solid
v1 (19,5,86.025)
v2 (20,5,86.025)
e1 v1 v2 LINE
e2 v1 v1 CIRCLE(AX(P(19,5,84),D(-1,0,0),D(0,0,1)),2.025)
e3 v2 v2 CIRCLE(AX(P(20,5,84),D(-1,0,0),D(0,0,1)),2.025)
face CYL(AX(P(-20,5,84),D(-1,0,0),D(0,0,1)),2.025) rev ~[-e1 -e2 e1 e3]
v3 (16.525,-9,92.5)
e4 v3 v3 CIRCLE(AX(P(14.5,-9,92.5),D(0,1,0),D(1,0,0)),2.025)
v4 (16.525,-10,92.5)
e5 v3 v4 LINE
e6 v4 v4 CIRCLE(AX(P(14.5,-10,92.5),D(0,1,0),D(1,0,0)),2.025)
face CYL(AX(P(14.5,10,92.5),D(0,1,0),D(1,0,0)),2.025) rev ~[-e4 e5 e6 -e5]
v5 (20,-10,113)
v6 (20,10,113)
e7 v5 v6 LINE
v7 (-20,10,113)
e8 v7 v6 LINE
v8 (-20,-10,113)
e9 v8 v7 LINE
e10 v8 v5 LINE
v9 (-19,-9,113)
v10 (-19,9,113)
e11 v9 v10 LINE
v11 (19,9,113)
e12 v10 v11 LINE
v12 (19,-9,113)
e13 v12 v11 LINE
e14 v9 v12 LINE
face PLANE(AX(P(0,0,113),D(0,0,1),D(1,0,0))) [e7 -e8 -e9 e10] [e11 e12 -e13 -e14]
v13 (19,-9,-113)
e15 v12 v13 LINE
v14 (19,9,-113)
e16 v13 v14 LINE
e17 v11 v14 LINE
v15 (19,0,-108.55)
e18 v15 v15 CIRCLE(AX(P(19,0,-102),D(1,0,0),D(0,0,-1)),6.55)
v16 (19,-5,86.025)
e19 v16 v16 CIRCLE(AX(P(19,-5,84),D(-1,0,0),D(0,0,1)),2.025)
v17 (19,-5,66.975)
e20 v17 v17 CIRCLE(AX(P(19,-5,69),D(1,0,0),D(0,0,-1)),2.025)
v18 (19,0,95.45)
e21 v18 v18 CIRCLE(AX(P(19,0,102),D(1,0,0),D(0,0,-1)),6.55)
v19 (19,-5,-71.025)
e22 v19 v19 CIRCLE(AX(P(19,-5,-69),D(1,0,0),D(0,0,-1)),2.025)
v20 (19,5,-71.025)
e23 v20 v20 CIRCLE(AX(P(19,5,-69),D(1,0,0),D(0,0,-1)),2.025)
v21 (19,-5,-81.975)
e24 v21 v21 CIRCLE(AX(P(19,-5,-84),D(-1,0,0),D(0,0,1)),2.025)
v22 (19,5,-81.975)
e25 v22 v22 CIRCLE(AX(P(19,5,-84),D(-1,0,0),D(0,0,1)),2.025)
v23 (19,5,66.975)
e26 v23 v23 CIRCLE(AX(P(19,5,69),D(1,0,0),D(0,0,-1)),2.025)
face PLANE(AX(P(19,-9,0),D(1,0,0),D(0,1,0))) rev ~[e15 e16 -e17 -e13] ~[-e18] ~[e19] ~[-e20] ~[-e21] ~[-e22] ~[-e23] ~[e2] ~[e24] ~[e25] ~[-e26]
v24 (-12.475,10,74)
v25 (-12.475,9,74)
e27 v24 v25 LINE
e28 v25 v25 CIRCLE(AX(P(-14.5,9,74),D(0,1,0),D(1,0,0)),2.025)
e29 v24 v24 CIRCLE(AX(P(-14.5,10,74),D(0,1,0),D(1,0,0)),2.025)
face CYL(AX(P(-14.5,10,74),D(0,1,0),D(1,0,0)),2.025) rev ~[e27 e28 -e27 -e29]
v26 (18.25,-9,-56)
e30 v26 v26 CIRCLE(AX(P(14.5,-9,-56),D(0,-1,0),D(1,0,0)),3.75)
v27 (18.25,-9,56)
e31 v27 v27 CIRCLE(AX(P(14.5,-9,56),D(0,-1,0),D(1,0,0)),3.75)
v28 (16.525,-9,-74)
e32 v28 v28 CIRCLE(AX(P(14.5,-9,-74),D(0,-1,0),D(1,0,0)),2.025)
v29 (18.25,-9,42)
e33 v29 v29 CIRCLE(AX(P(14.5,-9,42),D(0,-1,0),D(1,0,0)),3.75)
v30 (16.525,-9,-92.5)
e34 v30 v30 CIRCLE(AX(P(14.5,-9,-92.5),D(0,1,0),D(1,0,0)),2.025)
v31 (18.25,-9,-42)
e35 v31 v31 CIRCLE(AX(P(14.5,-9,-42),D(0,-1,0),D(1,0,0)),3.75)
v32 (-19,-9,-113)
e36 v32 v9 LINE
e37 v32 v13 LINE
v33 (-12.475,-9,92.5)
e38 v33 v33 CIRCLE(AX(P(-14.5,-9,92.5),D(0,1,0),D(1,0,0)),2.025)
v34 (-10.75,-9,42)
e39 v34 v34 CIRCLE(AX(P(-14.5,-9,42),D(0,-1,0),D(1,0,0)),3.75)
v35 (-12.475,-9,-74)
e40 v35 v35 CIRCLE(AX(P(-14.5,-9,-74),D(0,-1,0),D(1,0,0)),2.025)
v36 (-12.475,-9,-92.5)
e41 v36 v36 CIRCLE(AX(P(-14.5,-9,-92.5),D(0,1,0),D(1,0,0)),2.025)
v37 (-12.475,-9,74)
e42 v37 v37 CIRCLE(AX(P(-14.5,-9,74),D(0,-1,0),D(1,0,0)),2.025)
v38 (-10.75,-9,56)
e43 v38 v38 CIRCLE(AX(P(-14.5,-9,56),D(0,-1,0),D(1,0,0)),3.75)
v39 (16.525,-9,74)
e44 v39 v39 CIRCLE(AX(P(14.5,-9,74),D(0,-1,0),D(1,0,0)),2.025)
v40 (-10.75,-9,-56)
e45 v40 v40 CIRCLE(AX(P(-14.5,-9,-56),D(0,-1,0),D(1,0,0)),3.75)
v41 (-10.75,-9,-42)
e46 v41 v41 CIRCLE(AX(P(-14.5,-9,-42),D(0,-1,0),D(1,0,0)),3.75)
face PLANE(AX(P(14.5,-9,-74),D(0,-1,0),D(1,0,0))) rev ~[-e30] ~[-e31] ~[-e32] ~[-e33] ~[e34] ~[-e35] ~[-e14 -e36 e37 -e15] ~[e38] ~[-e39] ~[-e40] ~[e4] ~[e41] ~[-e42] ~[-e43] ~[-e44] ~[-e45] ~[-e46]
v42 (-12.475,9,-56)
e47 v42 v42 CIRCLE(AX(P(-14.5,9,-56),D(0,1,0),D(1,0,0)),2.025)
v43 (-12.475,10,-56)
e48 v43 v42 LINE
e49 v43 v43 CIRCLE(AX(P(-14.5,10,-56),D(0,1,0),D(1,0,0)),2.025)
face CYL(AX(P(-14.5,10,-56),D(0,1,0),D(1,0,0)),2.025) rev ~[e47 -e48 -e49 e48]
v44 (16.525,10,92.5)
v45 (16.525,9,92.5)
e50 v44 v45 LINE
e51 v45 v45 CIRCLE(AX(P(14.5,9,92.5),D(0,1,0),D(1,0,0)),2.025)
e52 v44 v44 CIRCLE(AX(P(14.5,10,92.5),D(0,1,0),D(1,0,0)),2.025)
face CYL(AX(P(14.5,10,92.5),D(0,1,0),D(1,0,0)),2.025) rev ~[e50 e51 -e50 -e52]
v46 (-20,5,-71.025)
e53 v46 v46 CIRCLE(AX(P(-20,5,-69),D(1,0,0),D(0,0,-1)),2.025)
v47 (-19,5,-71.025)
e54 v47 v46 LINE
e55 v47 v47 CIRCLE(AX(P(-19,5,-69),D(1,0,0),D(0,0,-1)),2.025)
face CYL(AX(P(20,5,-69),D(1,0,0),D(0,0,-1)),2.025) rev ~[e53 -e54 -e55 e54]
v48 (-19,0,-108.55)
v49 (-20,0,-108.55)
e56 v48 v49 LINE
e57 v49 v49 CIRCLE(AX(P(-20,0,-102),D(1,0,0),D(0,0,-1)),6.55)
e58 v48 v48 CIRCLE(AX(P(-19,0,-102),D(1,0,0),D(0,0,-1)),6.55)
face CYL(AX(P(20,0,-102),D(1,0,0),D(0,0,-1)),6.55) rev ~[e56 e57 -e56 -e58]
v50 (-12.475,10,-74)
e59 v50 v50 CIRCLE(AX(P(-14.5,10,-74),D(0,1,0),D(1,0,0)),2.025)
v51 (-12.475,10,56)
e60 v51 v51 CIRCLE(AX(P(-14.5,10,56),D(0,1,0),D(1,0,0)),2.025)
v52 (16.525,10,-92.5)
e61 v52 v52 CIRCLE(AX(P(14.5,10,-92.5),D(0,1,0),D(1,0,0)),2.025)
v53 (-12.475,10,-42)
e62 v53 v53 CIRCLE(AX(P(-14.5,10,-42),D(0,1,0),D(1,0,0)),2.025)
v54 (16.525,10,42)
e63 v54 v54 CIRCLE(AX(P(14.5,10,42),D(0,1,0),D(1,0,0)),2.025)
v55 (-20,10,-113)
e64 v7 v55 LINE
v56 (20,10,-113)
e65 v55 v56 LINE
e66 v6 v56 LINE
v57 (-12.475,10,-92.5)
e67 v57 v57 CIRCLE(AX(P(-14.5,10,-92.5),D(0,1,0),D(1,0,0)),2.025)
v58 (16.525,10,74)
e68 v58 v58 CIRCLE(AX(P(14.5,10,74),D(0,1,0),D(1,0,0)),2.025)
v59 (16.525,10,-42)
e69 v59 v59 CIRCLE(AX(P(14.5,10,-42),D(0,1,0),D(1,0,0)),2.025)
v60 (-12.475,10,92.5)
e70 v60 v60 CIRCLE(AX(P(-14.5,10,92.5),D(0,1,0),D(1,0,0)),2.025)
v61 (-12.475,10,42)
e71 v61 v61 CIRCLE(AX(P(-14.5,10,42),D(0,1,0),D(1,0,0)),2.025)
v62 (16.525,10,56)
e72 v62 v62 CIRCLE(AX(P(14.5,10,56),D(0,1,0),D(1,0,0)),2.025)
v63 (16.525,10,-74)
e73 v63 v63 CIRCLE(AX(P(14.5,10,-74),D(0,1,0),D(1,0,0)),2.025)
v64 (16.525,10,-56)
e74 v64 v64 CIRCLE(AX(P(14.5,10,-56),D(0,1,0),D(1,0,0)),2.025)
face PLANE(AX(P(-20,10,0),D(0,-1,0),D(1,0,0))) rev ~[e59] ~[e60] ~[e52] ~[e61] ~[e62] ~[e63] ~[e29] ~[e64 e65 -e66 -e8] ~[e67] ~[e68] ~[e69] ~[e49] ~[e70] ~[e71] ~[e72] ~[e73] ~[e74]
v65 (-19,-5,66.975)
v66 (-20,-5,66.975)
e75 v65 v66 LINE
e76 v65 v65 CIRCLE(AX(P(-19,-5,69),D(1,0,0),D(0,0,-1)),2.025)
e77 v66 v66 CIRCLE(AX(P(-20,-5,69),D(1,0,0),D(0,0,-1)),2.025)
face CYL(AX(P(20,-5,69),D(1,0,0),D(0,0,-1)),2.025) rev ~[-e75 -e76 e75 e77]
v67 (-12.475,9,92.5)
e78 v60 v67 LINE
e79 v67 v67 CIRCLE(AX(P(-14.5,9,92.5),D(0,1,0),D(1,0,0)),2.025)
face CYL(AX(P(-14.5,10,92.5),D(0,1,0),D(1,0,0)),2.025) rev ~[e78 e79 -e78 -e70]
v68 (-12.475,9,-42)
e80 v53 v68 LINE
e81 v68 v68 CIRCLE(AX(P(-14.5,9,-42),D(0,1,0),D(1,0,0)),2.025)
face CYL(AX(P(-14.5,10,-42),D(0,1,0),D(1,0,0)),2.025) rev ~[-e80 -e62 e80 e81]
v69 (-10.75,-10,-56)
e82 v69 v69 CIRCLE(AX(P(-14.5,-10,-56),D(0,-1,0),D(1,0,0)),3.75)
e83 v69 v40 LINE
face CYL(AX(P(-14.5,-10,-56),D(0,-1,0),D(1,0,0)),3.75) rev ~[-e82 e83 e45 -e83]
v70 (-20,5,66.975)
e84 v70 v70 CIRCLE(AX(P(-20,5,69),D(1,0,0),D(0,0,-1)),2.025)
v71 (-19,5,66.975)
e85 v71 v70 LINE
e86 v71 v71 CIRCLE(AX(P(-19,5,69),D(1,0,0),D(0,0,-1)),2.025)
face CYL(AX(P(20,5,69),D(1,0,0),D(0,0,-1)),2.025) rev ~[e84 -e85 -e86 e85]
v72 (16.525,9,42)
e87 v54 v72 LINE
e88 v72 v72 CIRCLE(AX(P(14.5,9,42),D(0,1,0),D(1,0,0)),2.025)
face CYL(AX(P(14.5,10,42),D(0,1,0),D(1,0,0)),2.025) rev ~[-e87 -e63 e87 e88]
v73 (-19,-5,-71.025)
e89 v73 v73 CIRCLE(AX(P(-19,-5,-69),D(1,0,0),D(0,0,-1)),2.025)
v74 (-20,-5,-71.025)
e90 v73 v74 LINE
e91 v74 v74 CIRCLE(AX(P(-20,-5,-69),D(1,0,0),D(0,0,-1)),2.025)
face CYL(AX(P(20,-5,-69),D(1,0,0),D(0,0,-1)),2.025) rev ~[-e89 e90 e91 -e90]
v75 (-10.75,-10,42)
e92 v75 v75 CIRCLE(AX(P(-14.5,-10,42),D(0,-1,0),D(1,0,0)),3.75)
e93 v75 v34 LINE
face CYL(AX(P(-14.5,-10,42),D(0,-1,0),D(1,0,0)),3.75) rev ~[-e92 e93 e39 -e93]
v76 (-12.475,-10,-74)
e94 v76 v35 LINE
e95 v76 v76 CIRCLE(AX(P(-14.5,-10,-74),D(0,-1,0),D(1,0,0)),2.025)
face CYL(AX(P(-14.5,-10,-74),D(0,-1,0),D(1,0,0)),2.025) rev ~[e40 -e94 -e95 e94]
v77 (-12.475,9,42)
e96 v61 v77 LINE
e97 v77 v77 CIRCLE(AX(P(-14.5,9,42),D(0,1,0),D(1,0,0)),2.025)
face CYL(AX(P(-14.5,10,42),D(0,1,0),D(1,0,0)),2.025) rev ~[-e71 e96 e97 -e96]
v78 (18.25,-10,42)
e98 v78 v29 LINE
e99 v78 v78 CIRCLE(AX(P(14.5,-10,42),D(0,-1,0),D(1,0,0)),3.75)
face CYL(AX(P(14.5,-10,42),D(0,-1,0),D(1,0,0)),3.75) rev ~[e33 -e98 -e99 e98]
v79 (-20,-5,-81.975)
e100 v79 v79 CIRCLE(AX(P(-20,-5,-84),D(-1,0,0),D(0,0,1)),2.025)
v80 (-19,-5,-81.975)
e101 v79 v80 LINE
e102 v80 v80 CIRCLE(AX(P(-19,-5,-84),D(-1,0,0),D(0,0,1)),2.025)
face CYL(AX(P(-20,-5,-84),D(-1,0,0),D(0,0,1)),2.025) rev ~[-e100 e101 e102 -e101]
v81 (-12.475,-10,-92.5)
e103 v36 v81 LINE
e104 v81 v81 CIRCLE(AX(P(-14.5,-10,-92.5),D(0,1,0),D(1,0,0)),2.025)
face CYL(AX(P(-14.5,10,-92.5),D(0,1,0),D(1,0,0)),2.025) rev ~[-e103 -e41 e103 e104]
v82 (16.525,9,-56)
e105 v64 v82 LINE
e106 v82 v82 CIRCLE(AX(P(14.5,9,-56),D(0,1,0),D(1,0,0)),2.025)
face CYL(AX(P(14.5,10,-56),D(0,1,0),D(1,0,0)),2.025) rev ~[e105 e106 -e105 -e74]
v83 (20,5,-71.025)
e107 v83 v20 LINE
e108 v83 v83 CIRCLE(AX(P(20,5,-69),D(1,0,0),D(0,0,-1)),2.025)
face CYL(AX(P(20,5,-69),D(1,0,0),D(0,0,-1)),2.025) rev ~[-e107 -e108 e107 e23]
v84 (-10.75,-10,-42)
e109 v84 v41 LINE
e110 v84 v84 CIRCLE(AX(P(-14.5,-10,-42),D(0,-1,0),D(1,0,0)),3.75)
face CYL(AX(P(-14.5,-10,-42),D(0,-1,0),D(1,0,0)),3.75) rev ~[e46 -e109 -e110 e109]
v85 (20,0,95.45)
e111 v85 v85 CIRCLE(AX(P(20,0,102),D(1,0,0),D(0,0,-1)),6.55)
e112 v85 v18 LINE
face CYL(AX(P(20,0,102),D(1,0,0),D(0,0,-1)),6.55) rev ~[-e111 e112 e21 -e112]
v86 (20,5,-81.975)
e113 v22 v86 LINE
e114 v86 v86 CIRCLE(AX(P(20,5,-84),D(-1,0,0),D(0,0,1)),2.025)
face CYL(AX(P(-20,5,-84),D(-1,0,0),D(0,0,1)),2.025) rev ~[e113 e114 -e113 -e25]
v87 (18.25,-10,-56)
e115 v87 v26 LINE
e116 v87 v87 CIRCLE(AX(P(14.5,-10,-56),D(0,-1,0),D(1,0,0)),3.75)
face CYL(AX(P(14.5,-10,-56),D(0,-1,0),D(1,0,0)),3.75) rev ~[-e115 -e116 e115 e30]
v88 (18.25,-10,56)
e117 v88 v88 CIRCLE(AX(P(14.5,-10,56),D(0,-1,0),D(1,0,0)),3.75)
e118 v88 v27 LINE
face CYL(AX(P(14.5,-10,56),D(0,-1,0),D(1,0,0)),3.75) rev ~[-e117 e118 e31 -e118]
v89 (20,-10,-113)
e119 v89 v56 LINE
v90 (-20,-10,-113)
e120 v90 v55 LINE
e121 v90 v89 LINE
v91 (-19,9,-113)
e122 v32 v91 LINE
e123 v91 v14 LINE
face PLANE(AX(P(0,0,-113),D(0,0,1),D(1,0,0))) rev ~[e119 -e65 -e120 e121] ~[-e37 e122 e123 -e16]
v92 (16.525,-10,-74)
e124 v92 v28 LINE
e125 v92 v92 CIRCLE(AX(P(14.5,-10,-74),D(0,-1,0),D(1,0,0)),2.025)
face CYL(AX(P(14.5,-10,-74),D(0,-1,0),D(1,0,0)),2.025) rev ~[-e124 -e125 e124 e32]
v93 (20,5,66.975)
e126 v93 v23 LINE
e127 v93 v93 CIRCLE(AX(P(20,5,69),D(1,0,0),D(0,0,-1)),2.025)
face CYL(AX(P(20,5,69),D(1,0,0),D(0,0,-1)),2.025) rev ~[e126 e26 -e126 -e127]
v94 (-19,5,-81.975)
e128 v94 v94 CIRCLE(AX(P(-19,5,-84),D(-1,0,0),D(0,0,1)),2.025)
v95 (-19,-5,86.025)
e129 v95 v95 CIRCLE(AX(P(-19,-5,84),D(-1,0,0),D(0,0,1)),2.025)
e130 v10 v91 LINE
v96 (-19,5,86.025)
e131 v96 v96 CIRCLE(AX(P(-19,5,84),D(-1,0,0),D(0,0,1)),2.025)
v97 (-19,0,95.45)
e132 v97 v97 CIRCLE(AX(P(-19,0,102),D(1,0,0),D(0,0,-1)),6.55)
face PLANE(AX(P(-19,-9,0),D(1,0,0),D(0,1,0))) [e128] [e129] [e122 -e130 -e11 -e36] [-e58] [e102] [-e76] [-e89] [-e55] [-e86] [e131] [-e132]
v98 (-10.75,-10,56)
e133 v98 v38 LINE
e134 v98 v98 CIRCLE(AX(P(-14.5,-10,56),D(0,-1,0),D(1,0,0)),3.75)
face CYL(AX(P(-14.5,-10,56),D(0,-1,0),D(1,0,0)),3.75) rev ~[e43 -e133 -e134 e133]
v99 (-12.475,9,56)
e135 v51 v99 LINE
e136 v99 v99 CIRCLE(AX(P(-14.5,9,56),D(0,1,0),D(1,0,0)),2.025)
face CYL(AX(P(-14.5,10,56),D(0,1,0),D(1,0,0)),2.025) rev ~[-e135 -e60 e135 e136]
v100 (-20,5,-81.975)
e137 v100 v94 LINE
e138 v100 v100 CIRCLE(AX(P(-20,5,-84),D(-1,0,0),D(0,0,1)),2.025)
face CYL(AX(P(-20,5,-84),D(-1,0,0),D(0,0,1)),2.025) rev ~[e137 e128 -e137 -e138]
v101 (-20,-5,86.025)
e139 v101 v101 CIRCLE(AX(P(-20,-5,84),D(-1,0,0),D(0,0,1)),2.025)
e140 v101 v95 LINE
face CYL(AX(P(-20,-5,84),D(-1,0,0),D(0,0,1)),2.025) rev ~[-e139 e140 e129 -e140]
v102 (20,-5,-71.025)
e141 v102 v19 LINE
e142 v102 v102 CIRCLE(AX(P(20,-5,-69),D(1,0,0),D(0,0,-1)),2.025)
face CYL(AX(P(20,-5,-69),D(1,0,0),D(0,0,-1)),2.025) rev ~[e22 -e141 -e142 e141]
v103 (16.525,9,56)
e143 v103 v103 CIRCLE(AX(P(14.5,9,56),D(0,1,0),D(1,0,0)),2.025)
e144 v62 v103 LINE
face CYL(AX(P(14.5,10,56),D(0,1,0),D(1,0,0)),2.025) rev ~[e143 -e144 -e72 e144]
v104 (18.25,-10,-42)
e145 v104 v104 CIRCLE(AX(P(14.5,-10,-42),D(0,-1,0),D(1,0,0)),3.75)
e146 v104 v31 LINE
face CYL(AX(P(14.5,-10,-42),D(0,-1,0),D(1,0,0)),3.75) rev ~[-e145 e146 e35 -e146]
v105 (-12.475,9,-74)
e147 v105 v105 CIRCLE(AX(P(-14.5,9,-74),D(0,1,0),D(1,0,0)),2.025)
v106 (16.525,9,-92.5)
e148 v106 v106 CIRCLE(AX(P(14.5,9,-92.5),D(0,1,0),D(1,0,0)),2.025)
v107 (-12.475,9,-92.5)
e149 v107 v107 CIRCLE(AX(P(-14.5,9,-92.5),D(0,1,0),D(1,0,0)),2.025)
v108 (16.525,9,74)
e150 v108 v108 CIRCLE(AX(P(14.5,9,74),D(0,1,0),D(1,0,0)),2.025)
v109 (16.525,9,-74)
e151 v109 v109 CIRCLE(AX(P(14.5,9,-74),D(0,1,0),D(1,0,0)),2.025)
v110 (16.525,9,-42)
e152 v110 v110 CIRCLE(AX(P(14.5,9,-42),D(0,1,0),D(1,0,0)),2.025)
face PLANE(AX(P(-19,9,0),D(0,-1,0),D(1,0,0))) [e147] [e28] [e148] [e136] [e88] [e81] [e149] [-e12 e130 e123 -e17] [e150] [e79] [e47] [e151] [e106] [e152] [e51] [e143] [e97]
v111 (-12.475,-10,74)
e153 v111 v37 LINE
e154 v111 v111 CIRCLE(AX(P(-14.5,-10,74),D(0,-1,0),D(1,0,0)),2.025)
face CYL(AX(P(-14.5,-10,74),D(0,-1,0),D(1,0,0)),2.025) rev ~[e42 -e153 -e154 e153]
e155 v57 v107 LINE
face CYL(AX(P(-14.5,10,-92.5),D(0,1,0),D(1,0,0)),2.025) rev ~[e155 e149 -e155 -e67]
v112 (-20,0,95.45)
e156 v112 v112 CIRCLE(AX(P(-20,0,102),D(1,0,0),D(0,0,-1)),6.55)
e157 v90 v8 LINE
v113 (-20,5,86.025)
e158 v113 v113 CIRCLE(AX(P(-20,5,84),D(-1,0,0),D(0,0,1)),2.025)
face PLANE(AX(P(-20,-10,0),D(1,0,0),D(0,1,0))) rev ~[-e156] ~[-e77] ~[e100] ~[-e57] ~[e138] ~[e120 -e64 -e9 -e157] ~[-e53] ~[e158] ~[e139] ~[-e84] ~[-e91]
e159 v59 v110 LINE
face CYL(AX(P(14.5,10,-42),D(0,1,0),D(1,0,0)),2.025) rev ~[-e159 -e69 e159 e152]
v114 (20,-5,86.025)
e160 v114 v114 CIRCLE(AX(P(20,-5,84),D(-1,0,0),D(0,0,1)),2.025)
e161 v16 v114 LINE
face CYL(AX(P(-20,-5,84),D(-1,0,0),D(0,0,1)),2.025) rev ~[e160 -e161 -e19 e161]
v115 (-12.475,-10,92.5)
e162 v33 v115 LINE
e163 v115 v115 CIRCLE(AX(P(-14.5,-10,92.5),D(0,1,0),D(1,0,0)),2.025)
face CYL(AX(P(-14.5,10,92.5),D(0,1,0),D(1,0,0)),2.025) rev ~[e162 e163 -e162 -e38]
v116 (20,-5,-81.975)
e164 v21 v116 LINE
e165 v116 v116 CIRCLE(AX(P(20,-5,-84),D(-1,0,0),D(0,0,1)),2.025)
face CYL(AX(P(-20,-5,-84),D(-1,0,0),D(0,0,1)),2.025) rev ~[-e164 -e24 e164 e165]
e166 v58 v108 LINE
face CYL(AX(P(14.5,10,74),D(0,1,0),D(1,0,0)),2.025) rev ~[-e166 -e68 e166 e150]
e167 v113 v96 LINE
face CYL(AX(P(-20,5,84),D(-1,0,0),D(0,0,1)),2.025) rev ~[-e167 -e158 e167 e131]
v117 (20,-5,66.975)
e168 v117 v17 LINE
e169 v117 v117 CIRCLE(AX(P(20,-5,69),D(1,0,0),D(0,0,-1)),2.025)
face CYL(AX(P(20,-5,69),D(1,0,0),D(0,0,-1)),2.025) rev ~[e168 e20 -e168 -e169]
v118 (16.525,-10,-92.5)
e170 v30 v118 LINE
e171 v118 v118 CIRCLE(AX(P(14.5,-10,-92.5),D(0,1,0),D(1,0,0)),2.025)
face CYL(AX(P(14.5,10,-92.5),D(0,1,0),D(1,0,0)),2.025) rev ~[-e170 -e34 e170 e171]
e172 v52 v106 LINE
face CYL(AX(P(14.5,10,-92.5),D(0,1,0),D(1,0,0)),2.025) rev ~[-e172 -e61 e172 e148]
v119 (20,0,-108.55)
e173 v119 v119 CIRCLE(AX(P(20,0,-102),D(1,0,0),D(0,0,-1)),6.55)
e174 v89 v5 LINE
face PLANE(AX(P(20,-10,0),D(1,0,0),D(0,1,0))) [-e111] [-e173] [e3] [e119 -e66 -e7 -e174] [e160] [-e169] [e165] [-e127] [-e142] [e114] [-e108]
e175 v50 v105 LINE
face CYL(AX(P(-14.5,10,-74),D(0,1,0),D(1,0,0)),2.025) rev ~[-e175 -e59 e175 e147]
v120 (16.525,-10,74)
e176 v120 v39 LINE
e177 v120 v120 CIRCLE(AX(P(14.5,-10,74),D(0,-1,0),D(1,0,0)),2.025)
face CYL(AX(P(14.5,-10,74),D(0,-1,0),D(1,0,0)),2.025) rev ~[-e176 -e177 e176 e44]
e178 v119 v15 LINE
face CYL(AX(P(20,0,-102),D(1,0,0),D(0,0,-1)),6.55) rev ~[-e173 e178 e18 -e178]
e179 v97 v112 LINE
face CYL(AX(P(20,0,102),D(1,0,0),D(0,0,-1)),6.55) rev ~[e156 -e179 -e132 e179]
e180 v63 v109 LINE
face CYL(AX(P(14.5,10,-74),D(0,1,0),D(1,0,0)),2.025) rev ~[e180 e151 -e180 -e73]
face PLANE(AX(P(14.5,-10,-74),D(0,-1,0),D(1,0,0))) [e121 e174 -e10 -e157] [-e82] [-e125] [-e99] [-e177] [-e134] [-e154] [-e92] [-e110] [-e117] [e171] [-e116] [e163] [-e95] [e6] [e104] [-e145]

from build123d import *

# Parameters (mm, degrees)
SKETCH_1_W          = 40
SKETCH_1_H          = 20
SKETCH_1_W_2        = 38
SKETCH_1_H_2        = 18
EXTRUDE_1_DEPTH     = 113
SKETCH_2_R          = 6.55
CUT_EXTRUDE_1_DEPTH = 40
SKETCH_3_R          = 2.025
CUT_EXTRUDE_2_DEPTH = 30
SKETCH_4_R          = 2.025
CUT_EXTRUDE_3_DEPTH = 20
SKETCH_6_R          = 2.025
CUT_EXTRUDE_4_DEPTH = 30
SKETCH_9_R          = 3.75
CUT_EXTRUDE_5_DEPTH = 2
SKETCH_10_R         = 2.025
CUT_EXTRUDE_6_DEPTH = 50
SKETCH_11_R         = 3.75
SKETCH_11_R_2       = 2.025
EXTRUDE_2_DEPTH     = 1
SKETCH_13_R         = 2.025
CUT_EXTRUDE_8_DEPTH = 55


with BuildPart() as part:
    # 草图1 → 凸台-拉伸1 (new body, symmetric)
    with BuildSketch(Plane.XY):
        Rectangle(SKETCH_1_W, SKETCH_1_H)
        Rectangle(SKETCH_1_W_2, SKETCH_1_H_2, mode=Mode.SUBTRACT)
    extrude(amount=EXTRUDE_1_DEPTH, both=True)

    # 草图2 → 切除-拉伸1 (cut)
    with BuildSketch(Plane(origin=(20, 0, 0), x_dir=(0, 0, -1), z_dir=(1, 0, 0))):
        with Locations((102, 0)):
            Circle(SKETCH_2_R)
        with Locations((-102, 0)):
            Circle(SKETCH_2_R)
    extrude(amount=-CUT_EXTRUDE_1_DEPTH, mode=Mode.SUBTRACT)

    # 草图3 → 切除-拉伸2 (cut)
    with BuildSketch(Plane(origin=(0, 10, 0), x_dir=(1, 0, 0), z_dir=(0, 1, 0))):
        with Locations((-14.5, 92.5)):
            Circle(SKETCH_3_R)
        with Locations((14.5, 92.5)):
            Circle(SKETCH_3_R)
        with Locations((14.5, -92.5)):
            Circle(SKETCH_3_R)
        with Locations((-14.5, -92.5)):
            Circle(SKETCH_3_R)
    extrude(amount=-CUT_EXTRUDE_2_DEPTH, mode=Mode.SUBTRACT)

    # 草图4 → 切除-拉伸3 (cut)
    with BuildSketch(Plane(origin=(0, 10, 0), x_dir=(1, 0, 0), z_dir=(0, 1, 0))):
        with Locations((-14.5, 74)):
            Circle(SKETCH_4_R)
        with Locations((-14.5, 56)):
            Circle(SKETCH_4_R)
        with Locations((14.5, 56)):
            Circle(SKETCH_4_R)
        with Locations((14.5, 74)):
            Circle(SKETCH_4_R)
        with Locations((14.5, -74)):
            Circle(SKETCH_4_R)
        with Locations((14.5, -56)):
            Circle(SKETCH_4_R)
        with Locations((-14.5, -56)):
            Circle(SKETCH_4_R)
        with Locations((-14.5, -74)):
            Circle(SKETCH_4_R)
    extrude(amount=-CUT_EXTRUDE_3_DEPTH, mode=Mode.SUBTRACT)

    # 草图6 → 切除-拉伸4 (cut)
    with BuildSketch(Plane(origin=(0, 10, 0), x_dir=(1, 0, 0), z_dir=(0, 1, 0))):
        with Locations((-14.5, 42)):
            Circle(SKETCH_6_R)
        with Locations((14.5, 42)):
            Circle(SKETCH_6_R)
        with Locations((-14.5, -42)):
            Circle(SKETCH_6_R)
        with Locations((14.5, -42)):
            Circle(SKETCH_6_R)
    extrude(amount=-CUT_EXTRUDE_4_DEPTH, mode=Mode.SUBTRACT)

    # 草图9 → 切除-拉伸5 (cut)
    with BuildSketch(Plane.XZ.offset(10)):
        with Locations((-14.5, 74)):
            Circle(SKETCH_9_R)
        with Locations((14.5, 74)):
            Circle(SKETCH_9_R)
        with Locations((-14.5, 56)):
            Circle(SKETCH_9_R)
        with Locations((-14.5, 42)):
            Circle(SKETCH_9_R)
        with Locations((14.5, 42)):
            Circle(SKETCH_9_R)
        with Locations((14.5, 56)):
            Circle(SKETCH_9_R)
        with Locations((14.5, -56)):
            Circle(SKETCH_9_R)
        with Locations((14.5, -42)):
            Circle(SKETCH_9_R)
        with Locations((-14.5, -42)):
            Circle(SKETCH_9_R)
        with Locations((-14.5, -56)):
            Circle(SKETCH_9_R)
        with Locations((14.5, -74)):
            Circle(SKETCH_9_R)
        with Locations((-14.5, -74)):
            Circle(SKETCH_9_R)
    extrude(amount=-CUT_EXTRUDE_5_DEPTH, mode=Mode.SUBTRACT)

    # 草图10 → 切除-拉伸6 (cut)
    with BuildSketch(Plane.ZY.offset(20)):
        with Locations((84, 5)):
            Circle(SKETCH_10_R)
        with Locations((84, -5)):
            Circle(SKETCH_10_R)
        with Locations((-84, 5)):
            Circle(SKETCH_10_R)
        with Locations((-84, -5)):
            Circle(SKETCH_10_R)
    extrude(amount=-CUT_EXTRUDE_6_DEPTH, mode=Mode.SUBTRACT)

    # 草图11 → 凸台-拉伸2 (add)
    with BuildSketch(Plane.XZ.offset(10)):
        with Locations((14.5, -74)):
            Circle(SKETCH_11_R)
        with Locations((14.5, -74)):
            Circle(SKETCH_11_R_2, mode=Mode.SUBTRACT)
        with Locations((-14.5, -74)):
            Circle(SKETCH_11_R)
        with Locations((-14.5, -74)):
            Circle(SKETCH_11_R_2, mode=Mode.SUBTRACT)
        with Locations((-14.5, 74)):
            Circle(SKETCH_11_R)
        with Locations((-14.5, 74)):
            Circle(SKETCH_11_R_2, mode=Mode.SUBTRACT)
        with Locations((14.5, 74)):
            Circle(SKETCH_11_R)
        with Locations((14.5, 74)):
            Circle(SKETCH_11_R_2, mode=Mode.SUBTRACT)
    extrude(amount=-EXTRUDE_2_DEPTH)

    # 草图13 → 切除-拉伸8 (cut)
    with BuildSketch(Plane(origin=(20, 0, 0), x_dir=(0, 0, -1), z_dir=(1, 0, 0))):
        with Locations((-69, 5)):
            Circle(SKETCH_13_R)
        with Locations((-69, -5)):
            Circle(SKETCH_13_R)
        with Locations((69, -5)):
            Circle(SKETCH_13_R)
        with Locations((69, 5)):
            Circle(SKETCH_13_R)
    extrude(amount=-CUT_EXTRUDE_8_DEPTH, mode=Mode.SUBTRACT)


solid = part.part
